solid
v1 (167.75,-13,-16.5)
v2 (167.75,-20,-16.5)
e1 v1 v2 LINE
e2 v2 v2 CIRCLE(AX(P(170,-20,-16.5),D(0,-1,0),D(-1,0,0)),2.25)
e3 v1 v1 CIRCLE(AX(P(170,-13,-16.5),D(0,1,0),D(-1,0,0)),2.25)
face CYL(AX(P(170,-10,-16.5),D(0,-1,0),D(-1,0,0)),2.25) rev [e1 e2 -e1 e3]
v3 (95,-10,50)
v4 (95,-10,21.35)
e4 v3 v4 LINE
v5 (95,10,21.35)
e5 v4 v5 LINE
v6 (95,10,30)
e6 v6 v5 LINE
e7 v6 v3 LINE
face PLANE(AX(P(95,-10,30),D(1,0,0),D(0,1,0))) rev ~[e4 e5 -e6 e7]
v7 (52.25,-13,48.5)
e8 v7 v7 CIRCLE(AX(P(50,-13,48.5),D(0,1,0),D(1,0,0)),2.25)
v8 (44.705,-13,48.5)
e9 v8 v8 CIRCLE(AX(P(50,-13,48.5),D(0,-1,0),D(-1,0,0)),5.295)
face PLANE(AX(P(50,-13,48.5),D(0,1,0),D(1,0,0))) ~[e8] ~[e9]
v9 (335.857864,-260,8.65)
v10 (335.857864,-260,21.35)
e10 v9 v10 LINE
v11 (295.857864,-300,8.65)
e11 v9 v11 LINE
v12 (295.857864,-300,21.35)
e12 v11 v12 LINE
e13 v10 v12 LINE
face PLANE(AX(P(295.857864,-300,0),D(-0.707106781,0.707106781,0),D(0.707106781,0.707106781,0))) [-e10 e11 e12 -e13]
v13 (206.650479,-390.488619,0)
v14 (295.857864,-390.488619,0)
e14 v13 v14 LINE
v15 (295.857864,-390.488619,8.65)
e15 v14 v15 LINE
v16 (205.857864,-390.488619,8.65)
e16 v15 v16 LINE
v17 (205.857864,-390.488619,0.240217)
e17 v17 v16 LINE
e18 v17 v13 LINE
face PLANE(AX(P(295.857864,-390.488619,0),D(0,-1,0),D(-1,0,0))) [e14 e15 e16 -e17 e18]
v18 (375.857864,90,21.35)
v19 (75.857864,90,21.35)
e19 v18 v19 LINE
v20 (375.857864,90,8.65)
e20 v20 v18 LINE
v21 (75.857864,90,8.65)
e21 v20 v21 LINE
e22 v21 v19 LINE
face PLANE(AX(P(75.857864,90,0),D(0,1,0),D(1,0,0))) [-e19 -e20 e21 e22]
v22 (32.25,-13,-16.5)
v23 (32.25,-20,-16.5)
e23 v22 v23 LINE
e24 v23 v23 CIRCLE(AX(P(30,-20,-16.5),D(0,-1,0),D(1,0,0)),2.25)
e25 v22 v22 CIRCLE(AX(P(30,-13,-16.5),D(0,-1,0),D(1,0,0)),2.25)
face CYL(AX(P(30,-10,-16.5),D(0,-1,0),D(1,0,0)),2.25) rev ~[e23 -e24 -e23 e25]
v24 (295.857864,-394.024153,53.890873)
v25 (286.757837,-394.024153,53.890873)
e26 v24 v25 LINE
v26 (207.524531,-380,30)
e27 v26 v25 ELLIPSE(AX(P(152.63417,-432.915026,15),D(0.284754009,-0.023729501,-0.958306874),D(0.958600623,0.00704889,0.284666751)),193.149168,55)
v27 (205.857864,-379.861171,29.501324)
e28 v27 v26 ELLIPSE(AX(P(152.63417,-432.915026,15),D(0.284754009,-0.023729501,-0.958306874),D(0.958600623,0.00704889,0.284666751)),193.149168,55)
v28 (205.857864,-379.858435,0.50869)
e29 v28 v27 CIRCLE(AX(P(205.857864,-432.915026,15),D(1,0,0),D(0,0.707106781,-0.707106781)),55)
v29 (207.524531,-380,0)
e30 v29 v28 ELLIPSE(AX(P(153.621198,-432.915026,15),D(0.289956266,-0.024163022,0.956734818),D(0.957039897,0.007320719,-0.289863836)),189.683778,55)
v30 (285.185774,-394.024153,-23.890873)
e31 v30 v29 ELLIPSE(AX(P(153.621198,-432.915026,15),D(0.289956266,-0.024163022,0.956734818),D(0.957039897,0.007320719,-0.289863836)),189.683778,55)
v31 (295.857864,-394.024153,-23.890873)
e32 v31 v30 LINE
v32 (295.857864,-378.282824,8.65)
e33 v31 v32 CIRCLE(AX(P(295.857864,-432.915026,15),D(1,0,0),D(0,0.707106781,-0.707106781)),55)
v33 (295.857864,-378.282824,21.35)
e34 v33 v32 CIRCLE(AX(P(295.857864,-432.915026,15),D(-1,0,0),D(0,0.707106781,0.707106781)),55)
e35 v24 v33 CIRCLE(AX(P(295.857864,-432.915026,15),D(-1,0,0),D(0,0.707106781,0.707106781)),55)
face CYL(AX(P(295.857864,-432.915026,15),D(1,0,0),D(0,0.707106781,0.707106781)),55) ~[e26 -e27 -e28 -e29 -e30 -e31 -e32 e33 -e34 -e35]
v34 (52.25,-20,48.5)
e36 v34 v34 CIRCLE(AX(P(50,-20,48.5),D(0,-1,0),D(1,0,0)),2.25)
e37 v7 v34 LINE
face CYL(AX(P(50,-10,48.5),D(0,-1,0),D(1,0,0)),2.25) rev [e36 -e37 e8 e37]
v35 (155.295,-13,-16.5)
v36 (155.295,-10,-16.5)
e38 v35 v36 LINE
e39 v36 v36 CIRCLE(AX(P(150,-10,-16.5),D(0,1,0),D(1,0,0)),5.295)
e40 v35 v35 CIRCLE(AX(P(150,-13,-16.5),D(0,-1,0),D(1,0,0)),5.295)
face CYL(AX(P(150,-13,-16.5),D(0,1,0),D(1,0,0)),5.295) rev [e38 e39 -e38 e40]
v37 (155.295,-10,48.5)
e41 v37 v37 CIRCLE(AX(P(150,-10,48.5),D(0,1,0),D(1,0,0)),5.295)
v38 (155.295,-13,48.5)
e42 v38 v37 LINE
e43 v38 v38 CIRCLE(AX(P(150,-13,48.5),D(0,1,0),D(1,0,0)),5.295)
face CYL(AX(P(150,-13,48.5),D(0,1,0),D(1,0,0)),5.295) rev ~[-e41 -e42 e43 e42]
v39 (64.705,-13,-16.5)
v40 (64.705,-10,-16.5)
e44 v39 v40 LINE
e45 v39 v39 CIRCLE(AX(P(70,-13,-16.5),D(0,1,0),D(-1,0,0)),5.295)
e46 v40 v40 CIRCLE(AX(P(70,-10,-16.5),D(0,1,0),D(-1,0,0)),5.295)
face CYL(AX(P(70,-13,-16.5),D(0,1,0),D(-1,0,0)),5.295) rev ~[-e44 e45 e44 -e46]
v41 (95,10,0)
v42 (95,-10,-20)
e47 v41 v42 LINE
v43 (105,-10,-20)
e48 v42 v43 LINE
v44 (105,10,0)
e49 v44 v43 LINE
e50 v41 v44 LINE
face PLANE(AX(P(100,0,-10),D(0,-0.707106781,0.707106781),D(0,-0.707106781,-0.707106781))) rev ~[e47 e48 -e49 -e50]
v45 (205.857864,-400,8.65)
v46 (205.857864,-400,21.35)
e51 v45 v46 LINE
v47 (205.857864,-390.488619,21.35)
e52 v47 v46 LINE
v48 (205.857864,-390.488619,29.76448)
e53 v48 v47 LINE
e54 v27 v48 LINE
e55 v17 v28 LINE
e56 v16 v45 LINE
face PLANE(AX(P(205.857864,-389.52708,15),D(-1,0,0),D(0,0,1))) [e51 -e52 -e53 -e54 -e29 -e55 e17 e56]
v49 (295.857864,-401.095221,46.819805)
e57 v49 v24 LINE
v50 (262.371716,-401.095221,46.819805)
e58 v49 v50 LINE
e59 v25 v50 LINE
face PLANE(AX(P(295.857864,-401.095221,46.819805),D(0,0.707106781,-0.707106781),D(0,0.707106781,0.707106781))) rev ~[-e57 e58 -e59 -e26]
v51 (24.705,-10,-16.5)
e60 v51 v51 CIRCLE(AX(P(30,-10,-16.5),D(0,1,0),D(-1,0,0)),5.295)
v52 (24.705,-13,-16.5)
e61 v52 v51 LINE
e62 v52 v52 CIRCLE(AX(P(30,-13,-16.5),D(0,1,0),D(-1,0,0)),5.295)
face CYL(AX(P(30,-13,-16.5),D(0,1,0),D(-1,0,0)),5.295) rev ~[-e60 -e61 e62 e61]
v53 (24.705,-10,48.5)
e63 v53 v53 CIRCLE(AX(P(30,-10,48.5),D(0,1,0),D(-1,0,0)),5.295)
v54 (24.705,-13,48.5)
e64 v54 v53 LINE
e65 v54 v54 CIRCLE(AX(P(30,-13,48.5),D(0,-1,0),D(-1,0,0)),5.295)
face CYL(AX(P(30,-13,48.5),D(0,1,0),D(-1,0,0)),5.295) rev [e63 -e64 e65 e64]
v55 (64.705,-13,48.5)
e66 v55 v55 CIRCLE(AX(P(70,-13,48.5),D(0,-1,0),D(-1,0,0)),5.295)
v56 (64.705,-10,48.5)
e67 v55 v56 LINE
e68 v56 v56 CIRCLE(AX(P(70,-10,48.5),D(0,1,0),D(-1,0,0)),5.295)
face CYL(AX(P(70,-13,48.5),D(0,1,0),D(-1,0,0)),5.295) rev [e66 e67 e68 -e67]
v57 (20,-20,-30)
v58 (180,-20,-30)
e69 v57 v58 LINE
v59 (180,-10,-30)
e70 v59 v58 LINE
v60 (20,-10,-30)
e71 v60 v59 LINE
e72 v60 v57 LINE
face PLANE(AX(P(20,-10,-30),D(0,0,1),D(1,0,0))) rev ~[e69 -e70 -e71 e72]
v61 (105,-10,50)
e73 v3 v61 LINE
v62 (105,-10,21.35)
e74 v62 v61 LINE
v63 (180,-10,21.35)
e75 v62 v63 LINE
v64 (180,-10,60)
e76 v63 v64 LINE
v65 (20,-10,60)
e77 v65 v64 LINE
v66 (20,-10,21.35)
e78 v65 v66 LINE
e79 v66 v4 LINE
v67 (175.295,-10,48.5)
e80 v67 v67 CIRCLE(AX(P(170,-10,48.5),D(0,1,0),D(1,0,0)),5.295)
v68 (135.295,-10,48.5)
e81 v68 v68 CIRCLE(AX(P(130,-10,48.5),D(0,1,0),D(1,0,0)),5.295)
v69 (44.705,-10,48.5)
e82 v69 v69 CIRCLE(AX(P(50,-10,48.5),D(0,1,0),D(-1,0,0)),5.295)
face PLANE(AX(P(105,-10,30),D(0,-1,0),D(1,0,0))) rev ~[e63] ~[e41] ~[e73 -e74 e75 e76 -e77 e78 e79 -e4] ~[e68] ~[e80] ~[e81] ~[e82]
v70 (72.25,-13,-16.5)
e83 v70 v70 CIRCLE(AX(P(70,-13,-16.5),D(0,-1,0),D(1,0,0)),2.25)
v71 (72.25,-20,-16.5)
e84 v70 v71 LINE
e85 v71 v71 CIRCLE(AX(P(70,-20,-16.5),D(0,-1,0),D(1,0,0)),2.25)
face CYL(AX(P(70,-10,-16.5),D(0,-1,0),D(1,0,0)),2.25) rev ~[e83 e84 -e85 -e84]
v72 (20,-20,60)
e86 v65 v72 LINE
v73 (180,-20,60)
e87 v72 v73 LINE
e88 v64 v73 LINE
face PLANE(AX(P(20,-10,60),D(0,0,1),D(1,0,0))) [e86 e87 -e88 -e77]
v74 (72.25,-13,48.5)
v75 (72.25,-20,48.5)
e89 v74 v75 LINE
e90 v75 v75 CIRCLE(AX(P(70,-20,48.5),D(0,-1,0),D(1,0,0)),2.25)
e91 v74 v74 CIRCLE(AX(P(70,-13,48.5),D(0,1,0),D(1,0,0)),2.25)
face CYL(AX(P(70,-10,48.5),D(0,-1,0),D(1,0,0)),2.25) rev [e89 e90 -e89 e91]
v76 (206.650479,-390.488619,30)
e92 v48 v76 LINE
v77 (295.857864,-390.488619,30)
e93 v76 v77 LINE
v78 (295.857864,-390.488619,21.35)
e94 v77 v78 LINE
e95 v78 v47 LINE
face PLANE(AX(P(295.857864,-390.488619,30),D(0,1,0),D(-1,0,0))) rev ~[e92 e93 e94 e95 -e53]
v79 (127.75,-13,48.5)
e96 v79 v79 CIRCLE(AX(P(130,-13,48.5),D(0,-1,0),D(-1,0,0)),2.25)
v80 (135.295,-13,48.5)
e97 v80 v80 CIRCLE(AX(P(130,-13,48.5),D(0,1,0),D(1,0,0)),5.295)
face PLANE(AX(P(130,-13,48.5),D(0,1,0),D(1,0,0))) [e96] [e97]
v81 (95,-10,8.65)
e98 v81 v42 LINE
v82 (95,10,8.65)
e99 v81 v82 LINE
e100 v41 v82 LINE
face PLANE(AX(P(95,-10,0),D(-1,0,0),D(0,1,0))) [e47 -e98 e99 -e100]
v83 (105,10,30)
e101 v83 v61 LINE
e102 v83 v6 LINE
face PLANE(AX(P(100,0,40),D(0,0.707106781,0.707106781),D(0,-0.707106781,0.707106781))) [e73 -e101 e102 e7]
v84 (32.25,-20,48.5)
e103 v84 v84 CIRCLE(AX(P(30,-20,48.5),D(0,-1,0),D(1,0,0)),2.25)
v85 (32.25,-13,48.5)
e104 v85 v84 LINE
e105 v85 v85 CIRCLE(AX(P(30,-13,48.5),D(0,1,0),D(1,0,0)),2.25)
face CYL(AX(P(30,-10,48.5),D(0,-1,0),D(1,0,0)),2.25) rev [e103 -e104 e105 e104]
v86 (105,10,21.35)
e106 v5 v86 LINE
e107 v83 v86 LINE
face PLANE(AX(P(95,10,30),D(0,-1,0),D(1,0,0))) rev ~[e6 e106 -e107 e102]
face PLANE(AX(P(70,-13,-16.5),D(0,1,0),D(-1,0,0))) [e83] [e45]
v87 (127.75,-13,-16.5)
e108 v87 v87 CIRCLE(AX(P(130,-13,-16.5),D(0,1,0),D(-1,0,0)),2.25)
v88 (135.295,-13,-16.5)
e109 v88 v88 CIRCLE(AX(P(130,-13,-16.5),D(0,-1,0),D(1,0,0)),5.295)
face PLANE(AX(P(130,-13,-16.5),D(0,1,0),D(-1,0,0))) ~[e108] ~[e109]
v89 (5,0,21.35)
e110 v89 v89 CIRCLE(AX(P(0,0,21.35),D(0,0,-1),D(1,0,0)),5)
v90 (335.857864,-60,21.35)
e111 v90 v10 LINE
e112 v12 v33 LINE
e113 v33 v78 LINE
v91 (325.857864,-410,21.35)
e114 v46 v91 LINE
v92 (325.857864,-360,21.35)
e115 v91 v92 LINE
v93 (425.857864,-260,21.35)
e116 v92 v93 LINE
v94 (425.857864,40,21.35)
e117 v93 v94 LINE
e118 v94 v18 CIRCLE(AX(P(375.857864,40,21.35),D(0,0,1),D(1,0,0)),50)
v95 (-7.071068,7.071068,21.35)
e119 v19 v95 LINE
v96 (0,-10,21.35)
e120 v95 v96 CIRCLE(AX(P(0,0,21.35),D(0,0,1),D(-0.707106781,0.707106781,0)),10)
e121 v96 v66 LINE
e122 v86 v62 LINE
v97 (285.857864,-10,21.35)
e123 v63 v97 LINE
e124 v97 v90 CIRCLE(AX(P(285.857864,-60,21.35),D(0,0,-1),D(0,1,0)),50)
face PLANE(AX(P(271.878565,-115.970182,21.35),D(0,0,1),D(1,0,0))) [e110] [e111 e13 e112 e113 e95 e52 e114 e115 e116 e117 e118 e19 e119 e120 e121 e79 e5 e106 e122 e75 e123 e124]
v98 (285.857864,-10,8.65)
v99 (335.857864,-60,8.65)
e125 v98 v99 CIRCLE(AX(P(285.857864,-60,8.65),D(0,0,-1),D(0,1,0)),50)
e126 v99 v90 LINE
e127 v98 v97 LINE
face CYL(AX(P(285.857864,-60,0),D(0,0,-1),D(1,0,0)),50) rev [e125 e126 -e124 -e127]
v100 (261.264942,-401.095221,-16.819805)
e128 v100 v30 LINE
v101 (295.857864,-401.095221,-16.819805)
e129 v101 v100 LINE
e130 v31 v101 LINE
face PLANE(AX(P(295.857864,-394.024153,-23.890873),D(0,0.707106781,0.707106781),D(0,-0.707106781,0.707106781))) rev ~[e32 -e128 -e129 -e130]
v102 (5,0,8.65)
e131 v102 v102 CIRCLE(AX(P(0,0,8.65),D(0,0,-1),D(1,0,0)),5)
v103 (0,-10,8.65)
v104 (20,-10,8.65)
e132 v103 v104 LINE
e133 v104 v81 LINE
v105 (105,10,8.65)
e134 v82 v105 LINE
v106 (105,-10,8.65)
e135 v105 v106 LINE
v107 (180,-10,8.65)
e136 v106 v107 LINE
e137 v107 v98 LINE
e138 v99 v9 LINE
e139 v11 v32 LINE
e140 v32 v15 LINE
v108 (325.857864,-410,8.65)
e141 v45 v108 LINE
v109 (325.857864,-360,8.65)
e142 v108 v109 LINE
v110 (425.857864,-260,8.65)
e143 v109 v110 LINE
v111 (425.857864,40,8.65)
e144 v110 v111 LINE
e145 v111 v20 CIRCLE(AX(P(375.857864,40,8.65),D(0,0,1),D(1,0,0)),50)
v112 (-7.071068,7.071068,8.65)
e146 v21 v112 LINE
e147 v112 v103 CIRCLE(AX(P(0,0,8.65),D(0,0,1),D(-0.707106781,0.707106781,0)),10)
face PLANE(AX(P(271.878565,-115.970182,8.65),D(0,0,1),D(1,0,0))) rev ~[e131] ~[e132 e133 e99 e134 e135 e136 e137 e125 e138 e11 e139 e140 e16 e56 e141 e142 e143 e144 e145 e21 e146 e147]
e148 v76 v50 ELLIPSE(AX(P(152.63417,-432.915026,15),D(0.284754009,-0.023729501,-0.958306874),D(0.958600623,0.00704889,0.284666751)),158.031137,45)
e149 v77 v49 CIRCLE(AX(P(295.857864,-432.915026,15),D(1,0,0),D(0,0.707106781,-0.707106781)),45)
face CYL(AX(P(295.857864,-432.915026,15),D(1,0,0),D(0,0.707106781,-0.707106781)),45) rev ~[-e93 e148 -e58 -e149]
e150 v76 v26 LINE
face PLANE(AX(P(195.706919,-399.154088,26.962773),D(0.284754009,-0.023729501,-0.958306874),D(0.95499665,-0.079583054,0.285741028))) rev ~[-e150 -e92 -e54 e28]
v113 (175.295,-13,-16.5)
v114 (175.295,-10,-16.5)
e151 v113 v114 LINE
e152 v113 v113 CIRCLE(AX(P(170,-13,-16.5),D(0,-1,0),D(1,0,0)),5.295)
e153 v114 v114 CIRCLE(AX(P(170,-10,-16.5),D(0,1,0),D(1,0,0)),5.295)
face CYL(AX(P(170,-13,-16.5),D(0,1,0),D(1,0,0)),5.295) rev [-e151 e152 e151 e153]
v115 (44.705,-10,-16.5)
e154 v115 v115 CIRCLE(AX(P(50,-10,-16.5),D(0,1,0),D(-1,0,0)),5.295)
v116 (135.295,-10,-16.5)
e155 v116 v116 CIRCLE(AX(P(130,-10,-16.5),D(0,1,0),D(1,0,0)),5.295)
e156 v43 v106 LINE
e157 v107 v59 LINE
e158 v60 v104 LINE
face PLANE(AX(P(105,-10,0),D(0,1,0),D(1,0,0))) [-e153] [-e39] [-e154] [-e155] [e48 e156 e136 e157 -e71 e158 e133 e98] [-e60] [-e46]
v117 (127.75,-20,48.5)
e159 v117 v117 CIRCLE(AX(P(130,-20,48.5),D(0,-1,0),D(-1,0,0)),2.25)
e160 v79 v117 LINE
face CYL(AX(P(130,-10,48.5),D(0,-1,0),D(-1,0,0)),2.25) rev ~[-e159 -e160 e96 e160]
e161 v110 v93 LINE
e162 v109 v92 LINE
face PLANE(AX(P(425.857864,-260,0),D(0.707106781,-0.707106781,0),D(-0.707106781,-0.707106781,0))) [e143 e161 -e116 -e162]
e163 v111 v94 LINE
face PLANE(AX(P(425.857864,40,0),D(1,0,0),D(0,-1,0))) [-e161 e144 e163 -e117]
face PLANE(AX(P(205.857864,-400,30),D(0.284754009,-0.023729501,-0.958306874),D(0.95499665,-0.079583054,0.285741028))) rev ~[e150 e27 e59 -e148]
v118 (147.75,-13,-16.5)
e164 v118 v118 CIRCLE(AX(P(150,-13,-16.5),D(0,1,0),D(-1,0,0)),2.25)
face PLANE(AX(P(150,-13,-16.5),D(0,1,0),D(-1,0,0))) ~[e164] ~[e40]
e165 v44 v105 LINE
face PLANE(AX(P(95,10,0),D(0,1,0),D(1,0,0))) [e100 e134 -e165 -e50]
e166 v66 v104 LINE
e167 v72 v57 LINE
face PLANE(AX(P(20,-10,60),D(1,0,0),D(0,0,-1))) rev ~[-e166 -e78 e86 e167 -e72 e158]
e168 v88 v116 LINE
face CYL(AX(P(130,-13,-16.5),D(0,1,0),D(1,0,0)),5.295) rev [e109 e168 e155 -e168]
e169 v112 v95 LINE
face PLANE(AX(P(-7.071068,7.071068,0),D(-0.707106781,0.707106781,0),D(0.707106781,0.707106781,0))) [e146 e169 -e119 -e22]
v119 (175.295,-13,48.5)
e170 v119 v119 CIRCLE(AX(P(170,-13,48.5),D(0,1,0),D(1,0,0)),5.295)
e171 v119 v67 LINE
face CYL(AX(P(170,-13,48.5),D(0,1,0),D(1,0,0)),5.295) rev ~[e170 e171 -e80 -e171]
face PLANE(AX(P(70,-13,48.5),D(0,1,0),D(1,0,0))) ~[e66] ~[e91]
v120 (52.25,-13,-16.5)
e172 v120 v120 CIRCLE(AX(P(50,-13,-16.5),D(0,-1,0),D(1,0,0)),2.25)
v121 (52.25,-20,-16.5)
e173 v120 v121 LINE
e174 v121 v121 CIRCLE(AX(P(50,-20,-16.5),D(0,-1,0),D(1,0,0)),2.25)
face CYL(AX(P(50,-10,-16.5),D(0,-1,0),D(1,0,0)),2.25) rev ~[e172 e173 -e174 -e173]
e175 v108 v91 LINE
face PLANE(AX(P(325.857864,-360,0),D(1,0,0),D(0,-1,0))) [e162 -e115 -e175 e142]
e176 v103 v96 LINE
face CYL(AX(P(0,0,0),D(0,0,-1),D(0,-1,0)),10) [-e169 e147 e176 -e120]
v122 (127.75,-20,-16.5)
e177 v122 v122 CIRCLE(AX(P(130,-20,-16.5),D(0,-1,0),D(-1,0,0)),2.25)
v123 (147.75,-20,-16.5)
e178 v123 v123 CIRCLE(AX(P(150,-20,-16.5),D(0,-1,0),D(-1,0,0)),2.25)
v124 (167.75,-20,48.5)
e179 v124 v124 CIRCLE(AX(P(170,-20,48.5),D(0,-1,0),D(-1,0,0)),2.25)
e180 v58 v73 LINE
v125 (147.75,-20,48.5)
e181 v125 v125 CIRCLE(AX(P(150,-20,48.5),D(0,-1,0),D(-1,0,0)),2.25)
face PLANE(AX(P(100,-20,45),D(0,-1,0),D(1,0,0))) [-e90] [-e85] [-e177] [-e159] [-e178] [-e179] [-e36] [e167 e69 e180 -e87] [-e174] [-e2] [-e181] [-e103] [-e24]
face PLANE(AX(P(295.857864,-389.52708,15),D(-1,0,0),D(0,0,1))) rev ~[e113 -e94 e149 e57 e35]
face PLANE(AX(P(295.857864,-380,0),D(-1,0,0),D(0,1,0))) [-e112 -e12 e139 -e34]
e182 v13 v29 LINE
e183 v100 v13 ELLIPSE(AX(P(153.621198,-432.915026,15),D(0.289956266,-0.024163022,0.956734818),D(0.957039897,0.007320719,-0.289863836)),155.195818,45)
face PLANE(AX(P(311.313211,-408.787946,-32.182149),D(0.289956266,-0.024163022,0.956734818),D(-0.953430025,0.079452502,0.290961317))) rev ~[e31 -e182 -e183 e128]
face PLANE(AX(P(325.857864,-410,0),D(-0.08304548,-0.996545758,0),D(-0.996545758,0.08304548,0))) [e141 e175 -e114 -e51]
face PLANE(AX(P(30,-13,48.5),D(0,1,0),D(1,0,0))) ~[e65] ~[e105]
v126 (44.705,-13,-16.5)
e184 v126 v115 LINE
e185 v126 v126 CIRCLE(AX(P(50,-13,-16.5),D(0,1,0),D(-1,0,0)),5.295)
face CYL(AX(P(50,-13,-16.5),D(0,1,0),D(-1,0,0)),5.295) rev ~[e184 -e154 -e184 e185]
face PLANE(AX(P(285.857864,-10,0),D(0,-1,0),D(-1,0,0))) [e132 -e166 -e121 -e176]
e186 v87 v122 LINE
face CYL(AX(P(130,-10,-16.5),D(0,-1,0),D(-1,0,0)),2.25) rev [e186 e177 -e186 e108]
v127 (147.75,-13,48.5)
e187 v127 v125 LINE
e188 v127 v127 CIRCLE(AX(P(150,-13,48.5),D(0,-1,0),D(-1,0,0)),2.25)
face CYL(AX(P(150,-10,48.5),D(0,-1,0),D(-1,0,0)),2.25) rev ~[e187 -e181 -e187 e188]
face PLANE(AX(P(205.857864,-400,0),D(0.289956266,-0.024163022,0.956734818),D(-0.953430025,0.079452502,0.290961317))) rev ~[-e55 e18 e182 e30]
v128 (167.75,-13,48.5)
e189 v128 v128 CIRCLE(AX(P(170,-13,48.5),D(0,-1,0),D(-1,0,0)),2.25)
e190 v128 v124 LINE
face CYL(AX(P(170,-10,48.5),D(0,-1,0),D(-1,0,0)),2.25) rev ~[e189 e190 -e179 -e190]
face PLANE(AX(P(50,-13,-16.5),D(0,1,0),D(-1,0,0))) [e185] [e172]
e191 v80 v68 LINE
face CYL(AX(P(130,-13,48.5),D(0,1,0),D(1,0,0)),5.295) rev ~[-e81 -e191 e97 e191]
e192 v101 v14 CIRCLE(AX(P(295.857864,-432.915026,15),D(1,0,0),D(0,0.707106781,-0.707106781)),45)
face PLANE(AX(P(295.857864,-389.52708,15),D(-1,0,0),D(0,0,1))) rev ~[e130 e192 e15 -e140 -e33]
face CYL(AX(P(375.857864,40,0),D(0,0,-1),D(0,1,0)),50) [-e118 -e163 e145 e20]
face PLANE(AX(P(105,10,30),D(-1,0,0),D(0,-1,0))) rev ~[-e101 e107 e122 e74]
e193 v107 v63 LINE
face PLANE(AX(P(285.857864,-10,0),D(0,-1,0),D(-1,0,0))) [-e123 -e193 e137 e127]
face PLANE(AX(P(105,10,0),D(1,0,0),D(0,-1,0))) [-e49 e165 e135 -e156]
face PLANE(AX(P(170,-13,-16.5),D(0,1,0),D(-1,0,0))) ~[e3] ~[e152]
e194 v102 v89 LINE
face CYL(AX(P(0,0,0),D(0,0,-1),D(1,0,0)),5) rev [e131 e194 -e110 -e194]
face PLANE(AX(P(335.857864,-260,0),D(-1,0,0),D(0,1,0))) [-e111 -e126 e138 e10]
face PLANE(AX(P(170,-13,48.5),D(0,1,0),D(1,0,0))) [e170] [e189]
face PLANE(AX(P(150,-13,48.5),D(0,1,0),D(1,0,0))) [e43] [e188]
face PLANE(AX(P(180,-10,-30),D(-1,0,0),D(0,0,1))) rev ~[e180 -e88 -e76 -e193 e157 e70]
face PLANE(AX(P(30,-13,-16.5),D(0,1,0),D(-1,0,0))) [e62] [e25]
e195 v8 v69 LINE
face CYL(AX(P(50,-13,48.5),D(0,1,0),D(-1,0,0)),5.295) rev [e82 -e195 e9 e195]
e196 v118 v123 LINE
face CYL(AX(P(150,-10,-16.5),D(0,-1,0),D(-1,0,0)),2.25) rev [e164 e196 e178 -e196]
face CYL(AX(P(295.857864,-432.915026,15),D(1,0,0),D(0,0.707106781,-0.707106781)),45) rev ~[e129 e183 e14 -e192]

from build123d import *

# Parameters (mm, degrees)
SKETCH1_R                                        = 5
BOSS_EXTRUDE1_DEPTH                              = 30
SKETCH2_W                                        = 160
SKETCH2_H                                        = 30
BOSS_EXTRUDE2_DEPTH                              = 10
RIB1_REACH                                       = 529.146
SKETCH5_WALL_W                                   = 1084.577110596
SKETCH5_WALL_H                                   = 10
RIB17_REACH                                      = 529.146
SKETCH7_WALL_W                                   = 1084.577110596
SKETCH7_WALL_H                                   = 10
CBORE_FOR_M4_HEX_HEAD_MACHINE_SCREW2_D           = 4.5
CBORE_FOR_M4_HEX_HEAD_MACHINE_SCREW2_CBORE_D     = 10.59
CBORE_FOR_M4_HEX_HEAD_MACHINE_SCREW2_CBORE_DEPTH = 3
MIRROR2_COPY_1_D                                 = 4.5
MIRROR2_COPY_1_CBORE_D                           = 10.59
MIRROR2_COPY_1_CBORE_DEPTH                       = 3
BOSS_EXTRUDE5_DEPTH                              = 90
CUT_EXTRUDE4_DEPTH                               = 100
CUT_EXTRUDE4_DEPTH_BACK                          = 100
CUT_EXTRUDE5_DEPTH                               = 8.65
CUT_EXTRUDE6_DEPTH                               = 8.65


with BuildPart() as part:
    # Sketch1 → Boss-Extrude1 (new body)
    with BuildSketch(Plane.XY):
        with BuildLine():
            Line((-7.071067812, 7.071067812), (75.857864376, 90))
            Line((75.857864376, 90), (375.857864376, 90))
            ThreePointArc((375.857864376, 90), (411.213203436, 75.355339059), (425.857864376, 40))
            Line((425.857864376, 40), (425.857864376, -260))
            Line((425.857864376, -260), (325.857864376, -360))
            Line((325.857864376, -360), (325.857864376, -410))
            Line((325.857864376, -410), (205.857864376, -400))
            Line((205.857864376, -400), (205.857864376, -380))
            Line((205.857864376, -380), (295.857864376, -380))
            Line((295.857864376, -380), (295.857864376, -300))
            Line((295.857864376, -300), (335.857864376, -260))
            Line((335.857864376, -260), (335.857864376, -60))
            ThreePointArc((335.857864376, -60), (321.213203436, -24.644660941), (285.857864376, -10))
            Line((285.857864376, -10), (0, -10))
            ThreePointArc((0, -10), (-9.238795325, -3.826834324), (-7.071067812, 7.071067812))
        make_face()
        Circle(SKETCH1_R, mode=Mode.SUBTRACT)
    extrude(amount=BOSS_EXTRUDE1_DEPTH)

    # Sketch2 → Boss-Extrude2 (add)
    with BuildSketch(Plane.XZ.offset(10)):
        with Locations((100, 45)):
            Rectangle(SKETCH2_W, SKETCH2_H)
        with Locations((100, 15)):
            Rectangle(SKETCH2_W, SKETCH2_H)
        with Locations((100, -15)):
            Rectangle(SKETCH2_W, SKETCH2_H)
    extrude(amount=BOSS_EXTRUDE2_DEPTH)

    # Sketch5 wall → Rib1 (add, up to next)
    with BuildSketch(Plane(origin=(100, 0, 40), x_dir=(0, -0.707106781187, 0.707106781187), z_dir=(0, 0.707106781187, 0.707106781187)), mode=Mode.PRIVATE) as rib1_sk1:
        Rectangle(SKETCH5_WALL_W, SKETCH5_WALL_H)
    rib1_tool1 = extrude(rib1_sk1.sketch, amount=-RIB1_REACH, mode=Mode.PRIVATE) - part.part
    add(rib1_tool1.solids().sort_by_distance((100, 0, 40))[0])

    # Sketch7 wall → Rib17 (add, up to next)
    with BuildSketch(Plane(origin=(100, 0, -10), x_dir=(0, -0.707106781187, -0.707106781187), z_dir=(0, -0.707106781187, 0.707106781187)), mode=Mode.PRIVATE) as rib17_sk1:
        Rectangle(SKETCH7_WALL_W, SKETCH7_WALL_H)
    rib17_tool1 = extrude(rib17_sk1.sketch, amount=RIB17_REACH, mode=Mode.PRIVATE) - part.part
    add(rib17_tool1.solids().sort_by_distance((100, 0, -10))[0])

    # CBORE for M4 Hex Head Machine Screw2 (through all)
    with Locations(Plane(origin=(0, -10, 0), x_dir=(1, 0, 0), z_dir=(0, 1, 0))):
        with Locations((130, -48.5), (150, -48.5), (170, -48.5)):
            cbore_for_m4_hex_head_machine_screw2 = CounterBoreHole(CBORE_FOR_M4_HEX_HEAD_MACHINE_SCREW2_D / 2, CBORE_FOR_M4_HEX_HEAD_MACHINE_SCREW2_CBORE_D / 2, CBORE_FOR_M4_HEX_HEAD_MACHINE_SCREW2_CBORE_DEPTH)

    # Mirror1: CBORE for M4 Hex Head Machine Screw2 across plane
    add(cbore_for_m4_hex_head_machine_screw2.mirror(Plane(origin=(100, 0, 0), x_dir=(0, 0, 1), z_dir=(1, 0, 0))), mode=Mode.SUBTRACT)

    # Mirror2: CBORE for M4 Hex Head Machine Screw2 across plane
    add(cbore_for_m4_hex_head_machine_screw2.mirror(Plane.XY.offset(16)), mode=Mode.SUBTRACT)

    # Mirror2 copy 1 (through all)
    with Locations(Plane(origin=(200, -10, 32), x_dir=(-1, 0, 0), z_dir=(0, 1, 0))):
        with Locations((130, -48.5), (150, -48.5), (170, -48.5)):
            CounterBoreHole(MIRROR2_COPY_1_D / 2, MIRROR2_COPY_1_CBORE_D / 2, MIRROR2_COPY_1_CBORE_DEPTH)

    # Sketch19 → Boss-Extrude5 (add)
    with BuildSketch(Plane.ZY.offset(-295.857864376)):
        with BuildLine():
            Line((-23.890872965, -394.024153256), (-16.819805153, -401.095221068))
            ThreePointArc((-16.819805153, -401.095221068), (15, -387.915026221), (46.819805153, -401.095221068))
            Line((46.819805153, -401.095221068), (53.890872965, -394.024153256))
            ThreePointArc((53.890872965, -394.024153256), (15, -377.915026221), (-23.890872965, -394.024153256))
        make_face()
    extrude(amount=BOSS_EXTRUDE5_DEPTH)

    # Sketch20 → Cut-Extrude4 (cut, two sides)
    with BuildSketch(Plane(origin=(-31.683738866, -380.204866396, 0), x_dir=(0.9965457582448797, -0.08304547985374006, 0), z_dir=(-0.08304547985374006, -0.9965457582448797, 0))) as cut_extrude4_sk:
        Polygon((228.178842993, -32.182148517), (344.185851358, -32.182148517), (238.364973487, 0), (228.178842993, 3.097796682), align=None)
        Polygon((238.364973487, 30), (346.499317462, 62.242718318), (228.178842993, 62.242718318), (228.178842993, 26.962773119), align=None)
    extrude(amount=CUT_EXTRUDE4_DEPTH, mode=Mode.SUBTRACT)
    extrude(cut_extrude4_sk.sketch, amount=-CUT_EXTRUDE4_DEPTH_BACK, mode=Mode.SUBTRACT)

    # Sketch21 → Cut-Extrude5 (cut)
    with BuildSketch(Plane.XY.offset(30)):
        with BuildLine():
            Line((206.65047943, -390.48861935), (205.857864376, -390.48861935))
            Line((205.857864376, -390.48861935), (205.857864376, -400))
            Line((205.857864376, -400), (325.857864376, -410))
            Line((325.857864376, -410), (325.857864376, -360))
            Line((325.857864376, -360), (425.857864376, -260))
            Line((425.857864376, -260), (425.857864376, 40))
            ThreePointArc((425.857864376, 40), (411.213203436, 75.355339059), (375.857864376, 90))
            Line((375.857864376, 90), (75.857864376, 90))
            Line((75.857864376, 90), (-7.071067812, 7.071067812))
            ThreePointArc((-7.071067812, 7.071067812), (-9.238795325, -3.826834324), (0, -10))
            Line((0, -10), (20, -10))
            Line((20, -10), (95, -10))
            Line((95, -10), (95, 10))
            Line((95, 10), (105, 10))
            Line((105, 10), (105, -10))
            Line((105, -10), (180, -10))
            Line((180, -10), (285.857864376, -10))
            ThreePointArc((285.857864376, -10), (321.213203436, -24.644660941), (335.857864376, -60))
            Line((335.857864376, -60), (335.857864376, -260))
            Line((335.857864376, -260), (295.857864376, -300))
            Line((295.857864376, -300), (295.857864376, -380))
            Line((295.857864376, -380), (295.857864376, -390.48861935))
            Line((295.857864376, -390.48861935), (206.65047943, -390.48861935))
        make_face()
    extrude(amount=-CUT_EXTRUDE5_DEPTH, mode=Mode.SUBTRACT)

    # Sketch22 → Cut-Extrude6 (cut)
    with BuildSketch(Plane(origin=(0, 0, 0), x_dir=(-1, 0, 0), z_dir=(0, 0, -1))):
        with BuildLine():
            Line((-206.65047943, -390.48861935), (-205.857864376, -390.48861935))
            Line((-205.857864376, -390.48861935), (-205.857864376, -400))
            Line((-205.857864376, -400), (-325.857864376, -410))
            Line((-325.857864376, -410), (-325.857864376, -360))
            Line((-325.857864376, -360), (-425.857864376, -260))
            Line((-425.857864376, -260), (-425.857864376, 40))
            ThreePointArc((-425.857864376, 40), (-411.213203436, 75.355339059), (-375.857864376, 90))
            Line((-375.857864376, 90), (-75.857864376, 90))
            Line((-75.857864376, 90), (7.071067812, 7.071067812))
            ThreePointArc((7.071067812, 7.071067812), (9.238795325, -3.826834324), (0, -10))
            Line((0, -10), (-20, -10))
            Line((-20, -10), (-95, -10))
            Line((-95, -10), (-95, 10))
            Line((-95, 10), (-105, 10))
            Line((-105, 10), (-105, -10))
            Line((-105, -10), (-180, -10))
            Line((-180, -10), (-285.857864376, -10))
            ThreePointArc((-285.857864376, -10), (-321.213203436, -24.644660941), (-335.857864376, -60))
            Line((-335.857864376, -60), (-335.857864376, -260))
            Line((-335.857864376, -260), (-295.857864376, -300))
            Line((-295.857864376, -300), (-295.857864376, -380))
            Line((-295.857864376, -380), (-295.857864376, -390.48861935))
            Line((-295.857864376, -390.48861935), (-206.65047943, -390.48861935))
        make_face()
    extrude(amount=-CUT_EXTRUDE6_DEPTH, mode=Mode.SUBTRACT)


solid = part.part
